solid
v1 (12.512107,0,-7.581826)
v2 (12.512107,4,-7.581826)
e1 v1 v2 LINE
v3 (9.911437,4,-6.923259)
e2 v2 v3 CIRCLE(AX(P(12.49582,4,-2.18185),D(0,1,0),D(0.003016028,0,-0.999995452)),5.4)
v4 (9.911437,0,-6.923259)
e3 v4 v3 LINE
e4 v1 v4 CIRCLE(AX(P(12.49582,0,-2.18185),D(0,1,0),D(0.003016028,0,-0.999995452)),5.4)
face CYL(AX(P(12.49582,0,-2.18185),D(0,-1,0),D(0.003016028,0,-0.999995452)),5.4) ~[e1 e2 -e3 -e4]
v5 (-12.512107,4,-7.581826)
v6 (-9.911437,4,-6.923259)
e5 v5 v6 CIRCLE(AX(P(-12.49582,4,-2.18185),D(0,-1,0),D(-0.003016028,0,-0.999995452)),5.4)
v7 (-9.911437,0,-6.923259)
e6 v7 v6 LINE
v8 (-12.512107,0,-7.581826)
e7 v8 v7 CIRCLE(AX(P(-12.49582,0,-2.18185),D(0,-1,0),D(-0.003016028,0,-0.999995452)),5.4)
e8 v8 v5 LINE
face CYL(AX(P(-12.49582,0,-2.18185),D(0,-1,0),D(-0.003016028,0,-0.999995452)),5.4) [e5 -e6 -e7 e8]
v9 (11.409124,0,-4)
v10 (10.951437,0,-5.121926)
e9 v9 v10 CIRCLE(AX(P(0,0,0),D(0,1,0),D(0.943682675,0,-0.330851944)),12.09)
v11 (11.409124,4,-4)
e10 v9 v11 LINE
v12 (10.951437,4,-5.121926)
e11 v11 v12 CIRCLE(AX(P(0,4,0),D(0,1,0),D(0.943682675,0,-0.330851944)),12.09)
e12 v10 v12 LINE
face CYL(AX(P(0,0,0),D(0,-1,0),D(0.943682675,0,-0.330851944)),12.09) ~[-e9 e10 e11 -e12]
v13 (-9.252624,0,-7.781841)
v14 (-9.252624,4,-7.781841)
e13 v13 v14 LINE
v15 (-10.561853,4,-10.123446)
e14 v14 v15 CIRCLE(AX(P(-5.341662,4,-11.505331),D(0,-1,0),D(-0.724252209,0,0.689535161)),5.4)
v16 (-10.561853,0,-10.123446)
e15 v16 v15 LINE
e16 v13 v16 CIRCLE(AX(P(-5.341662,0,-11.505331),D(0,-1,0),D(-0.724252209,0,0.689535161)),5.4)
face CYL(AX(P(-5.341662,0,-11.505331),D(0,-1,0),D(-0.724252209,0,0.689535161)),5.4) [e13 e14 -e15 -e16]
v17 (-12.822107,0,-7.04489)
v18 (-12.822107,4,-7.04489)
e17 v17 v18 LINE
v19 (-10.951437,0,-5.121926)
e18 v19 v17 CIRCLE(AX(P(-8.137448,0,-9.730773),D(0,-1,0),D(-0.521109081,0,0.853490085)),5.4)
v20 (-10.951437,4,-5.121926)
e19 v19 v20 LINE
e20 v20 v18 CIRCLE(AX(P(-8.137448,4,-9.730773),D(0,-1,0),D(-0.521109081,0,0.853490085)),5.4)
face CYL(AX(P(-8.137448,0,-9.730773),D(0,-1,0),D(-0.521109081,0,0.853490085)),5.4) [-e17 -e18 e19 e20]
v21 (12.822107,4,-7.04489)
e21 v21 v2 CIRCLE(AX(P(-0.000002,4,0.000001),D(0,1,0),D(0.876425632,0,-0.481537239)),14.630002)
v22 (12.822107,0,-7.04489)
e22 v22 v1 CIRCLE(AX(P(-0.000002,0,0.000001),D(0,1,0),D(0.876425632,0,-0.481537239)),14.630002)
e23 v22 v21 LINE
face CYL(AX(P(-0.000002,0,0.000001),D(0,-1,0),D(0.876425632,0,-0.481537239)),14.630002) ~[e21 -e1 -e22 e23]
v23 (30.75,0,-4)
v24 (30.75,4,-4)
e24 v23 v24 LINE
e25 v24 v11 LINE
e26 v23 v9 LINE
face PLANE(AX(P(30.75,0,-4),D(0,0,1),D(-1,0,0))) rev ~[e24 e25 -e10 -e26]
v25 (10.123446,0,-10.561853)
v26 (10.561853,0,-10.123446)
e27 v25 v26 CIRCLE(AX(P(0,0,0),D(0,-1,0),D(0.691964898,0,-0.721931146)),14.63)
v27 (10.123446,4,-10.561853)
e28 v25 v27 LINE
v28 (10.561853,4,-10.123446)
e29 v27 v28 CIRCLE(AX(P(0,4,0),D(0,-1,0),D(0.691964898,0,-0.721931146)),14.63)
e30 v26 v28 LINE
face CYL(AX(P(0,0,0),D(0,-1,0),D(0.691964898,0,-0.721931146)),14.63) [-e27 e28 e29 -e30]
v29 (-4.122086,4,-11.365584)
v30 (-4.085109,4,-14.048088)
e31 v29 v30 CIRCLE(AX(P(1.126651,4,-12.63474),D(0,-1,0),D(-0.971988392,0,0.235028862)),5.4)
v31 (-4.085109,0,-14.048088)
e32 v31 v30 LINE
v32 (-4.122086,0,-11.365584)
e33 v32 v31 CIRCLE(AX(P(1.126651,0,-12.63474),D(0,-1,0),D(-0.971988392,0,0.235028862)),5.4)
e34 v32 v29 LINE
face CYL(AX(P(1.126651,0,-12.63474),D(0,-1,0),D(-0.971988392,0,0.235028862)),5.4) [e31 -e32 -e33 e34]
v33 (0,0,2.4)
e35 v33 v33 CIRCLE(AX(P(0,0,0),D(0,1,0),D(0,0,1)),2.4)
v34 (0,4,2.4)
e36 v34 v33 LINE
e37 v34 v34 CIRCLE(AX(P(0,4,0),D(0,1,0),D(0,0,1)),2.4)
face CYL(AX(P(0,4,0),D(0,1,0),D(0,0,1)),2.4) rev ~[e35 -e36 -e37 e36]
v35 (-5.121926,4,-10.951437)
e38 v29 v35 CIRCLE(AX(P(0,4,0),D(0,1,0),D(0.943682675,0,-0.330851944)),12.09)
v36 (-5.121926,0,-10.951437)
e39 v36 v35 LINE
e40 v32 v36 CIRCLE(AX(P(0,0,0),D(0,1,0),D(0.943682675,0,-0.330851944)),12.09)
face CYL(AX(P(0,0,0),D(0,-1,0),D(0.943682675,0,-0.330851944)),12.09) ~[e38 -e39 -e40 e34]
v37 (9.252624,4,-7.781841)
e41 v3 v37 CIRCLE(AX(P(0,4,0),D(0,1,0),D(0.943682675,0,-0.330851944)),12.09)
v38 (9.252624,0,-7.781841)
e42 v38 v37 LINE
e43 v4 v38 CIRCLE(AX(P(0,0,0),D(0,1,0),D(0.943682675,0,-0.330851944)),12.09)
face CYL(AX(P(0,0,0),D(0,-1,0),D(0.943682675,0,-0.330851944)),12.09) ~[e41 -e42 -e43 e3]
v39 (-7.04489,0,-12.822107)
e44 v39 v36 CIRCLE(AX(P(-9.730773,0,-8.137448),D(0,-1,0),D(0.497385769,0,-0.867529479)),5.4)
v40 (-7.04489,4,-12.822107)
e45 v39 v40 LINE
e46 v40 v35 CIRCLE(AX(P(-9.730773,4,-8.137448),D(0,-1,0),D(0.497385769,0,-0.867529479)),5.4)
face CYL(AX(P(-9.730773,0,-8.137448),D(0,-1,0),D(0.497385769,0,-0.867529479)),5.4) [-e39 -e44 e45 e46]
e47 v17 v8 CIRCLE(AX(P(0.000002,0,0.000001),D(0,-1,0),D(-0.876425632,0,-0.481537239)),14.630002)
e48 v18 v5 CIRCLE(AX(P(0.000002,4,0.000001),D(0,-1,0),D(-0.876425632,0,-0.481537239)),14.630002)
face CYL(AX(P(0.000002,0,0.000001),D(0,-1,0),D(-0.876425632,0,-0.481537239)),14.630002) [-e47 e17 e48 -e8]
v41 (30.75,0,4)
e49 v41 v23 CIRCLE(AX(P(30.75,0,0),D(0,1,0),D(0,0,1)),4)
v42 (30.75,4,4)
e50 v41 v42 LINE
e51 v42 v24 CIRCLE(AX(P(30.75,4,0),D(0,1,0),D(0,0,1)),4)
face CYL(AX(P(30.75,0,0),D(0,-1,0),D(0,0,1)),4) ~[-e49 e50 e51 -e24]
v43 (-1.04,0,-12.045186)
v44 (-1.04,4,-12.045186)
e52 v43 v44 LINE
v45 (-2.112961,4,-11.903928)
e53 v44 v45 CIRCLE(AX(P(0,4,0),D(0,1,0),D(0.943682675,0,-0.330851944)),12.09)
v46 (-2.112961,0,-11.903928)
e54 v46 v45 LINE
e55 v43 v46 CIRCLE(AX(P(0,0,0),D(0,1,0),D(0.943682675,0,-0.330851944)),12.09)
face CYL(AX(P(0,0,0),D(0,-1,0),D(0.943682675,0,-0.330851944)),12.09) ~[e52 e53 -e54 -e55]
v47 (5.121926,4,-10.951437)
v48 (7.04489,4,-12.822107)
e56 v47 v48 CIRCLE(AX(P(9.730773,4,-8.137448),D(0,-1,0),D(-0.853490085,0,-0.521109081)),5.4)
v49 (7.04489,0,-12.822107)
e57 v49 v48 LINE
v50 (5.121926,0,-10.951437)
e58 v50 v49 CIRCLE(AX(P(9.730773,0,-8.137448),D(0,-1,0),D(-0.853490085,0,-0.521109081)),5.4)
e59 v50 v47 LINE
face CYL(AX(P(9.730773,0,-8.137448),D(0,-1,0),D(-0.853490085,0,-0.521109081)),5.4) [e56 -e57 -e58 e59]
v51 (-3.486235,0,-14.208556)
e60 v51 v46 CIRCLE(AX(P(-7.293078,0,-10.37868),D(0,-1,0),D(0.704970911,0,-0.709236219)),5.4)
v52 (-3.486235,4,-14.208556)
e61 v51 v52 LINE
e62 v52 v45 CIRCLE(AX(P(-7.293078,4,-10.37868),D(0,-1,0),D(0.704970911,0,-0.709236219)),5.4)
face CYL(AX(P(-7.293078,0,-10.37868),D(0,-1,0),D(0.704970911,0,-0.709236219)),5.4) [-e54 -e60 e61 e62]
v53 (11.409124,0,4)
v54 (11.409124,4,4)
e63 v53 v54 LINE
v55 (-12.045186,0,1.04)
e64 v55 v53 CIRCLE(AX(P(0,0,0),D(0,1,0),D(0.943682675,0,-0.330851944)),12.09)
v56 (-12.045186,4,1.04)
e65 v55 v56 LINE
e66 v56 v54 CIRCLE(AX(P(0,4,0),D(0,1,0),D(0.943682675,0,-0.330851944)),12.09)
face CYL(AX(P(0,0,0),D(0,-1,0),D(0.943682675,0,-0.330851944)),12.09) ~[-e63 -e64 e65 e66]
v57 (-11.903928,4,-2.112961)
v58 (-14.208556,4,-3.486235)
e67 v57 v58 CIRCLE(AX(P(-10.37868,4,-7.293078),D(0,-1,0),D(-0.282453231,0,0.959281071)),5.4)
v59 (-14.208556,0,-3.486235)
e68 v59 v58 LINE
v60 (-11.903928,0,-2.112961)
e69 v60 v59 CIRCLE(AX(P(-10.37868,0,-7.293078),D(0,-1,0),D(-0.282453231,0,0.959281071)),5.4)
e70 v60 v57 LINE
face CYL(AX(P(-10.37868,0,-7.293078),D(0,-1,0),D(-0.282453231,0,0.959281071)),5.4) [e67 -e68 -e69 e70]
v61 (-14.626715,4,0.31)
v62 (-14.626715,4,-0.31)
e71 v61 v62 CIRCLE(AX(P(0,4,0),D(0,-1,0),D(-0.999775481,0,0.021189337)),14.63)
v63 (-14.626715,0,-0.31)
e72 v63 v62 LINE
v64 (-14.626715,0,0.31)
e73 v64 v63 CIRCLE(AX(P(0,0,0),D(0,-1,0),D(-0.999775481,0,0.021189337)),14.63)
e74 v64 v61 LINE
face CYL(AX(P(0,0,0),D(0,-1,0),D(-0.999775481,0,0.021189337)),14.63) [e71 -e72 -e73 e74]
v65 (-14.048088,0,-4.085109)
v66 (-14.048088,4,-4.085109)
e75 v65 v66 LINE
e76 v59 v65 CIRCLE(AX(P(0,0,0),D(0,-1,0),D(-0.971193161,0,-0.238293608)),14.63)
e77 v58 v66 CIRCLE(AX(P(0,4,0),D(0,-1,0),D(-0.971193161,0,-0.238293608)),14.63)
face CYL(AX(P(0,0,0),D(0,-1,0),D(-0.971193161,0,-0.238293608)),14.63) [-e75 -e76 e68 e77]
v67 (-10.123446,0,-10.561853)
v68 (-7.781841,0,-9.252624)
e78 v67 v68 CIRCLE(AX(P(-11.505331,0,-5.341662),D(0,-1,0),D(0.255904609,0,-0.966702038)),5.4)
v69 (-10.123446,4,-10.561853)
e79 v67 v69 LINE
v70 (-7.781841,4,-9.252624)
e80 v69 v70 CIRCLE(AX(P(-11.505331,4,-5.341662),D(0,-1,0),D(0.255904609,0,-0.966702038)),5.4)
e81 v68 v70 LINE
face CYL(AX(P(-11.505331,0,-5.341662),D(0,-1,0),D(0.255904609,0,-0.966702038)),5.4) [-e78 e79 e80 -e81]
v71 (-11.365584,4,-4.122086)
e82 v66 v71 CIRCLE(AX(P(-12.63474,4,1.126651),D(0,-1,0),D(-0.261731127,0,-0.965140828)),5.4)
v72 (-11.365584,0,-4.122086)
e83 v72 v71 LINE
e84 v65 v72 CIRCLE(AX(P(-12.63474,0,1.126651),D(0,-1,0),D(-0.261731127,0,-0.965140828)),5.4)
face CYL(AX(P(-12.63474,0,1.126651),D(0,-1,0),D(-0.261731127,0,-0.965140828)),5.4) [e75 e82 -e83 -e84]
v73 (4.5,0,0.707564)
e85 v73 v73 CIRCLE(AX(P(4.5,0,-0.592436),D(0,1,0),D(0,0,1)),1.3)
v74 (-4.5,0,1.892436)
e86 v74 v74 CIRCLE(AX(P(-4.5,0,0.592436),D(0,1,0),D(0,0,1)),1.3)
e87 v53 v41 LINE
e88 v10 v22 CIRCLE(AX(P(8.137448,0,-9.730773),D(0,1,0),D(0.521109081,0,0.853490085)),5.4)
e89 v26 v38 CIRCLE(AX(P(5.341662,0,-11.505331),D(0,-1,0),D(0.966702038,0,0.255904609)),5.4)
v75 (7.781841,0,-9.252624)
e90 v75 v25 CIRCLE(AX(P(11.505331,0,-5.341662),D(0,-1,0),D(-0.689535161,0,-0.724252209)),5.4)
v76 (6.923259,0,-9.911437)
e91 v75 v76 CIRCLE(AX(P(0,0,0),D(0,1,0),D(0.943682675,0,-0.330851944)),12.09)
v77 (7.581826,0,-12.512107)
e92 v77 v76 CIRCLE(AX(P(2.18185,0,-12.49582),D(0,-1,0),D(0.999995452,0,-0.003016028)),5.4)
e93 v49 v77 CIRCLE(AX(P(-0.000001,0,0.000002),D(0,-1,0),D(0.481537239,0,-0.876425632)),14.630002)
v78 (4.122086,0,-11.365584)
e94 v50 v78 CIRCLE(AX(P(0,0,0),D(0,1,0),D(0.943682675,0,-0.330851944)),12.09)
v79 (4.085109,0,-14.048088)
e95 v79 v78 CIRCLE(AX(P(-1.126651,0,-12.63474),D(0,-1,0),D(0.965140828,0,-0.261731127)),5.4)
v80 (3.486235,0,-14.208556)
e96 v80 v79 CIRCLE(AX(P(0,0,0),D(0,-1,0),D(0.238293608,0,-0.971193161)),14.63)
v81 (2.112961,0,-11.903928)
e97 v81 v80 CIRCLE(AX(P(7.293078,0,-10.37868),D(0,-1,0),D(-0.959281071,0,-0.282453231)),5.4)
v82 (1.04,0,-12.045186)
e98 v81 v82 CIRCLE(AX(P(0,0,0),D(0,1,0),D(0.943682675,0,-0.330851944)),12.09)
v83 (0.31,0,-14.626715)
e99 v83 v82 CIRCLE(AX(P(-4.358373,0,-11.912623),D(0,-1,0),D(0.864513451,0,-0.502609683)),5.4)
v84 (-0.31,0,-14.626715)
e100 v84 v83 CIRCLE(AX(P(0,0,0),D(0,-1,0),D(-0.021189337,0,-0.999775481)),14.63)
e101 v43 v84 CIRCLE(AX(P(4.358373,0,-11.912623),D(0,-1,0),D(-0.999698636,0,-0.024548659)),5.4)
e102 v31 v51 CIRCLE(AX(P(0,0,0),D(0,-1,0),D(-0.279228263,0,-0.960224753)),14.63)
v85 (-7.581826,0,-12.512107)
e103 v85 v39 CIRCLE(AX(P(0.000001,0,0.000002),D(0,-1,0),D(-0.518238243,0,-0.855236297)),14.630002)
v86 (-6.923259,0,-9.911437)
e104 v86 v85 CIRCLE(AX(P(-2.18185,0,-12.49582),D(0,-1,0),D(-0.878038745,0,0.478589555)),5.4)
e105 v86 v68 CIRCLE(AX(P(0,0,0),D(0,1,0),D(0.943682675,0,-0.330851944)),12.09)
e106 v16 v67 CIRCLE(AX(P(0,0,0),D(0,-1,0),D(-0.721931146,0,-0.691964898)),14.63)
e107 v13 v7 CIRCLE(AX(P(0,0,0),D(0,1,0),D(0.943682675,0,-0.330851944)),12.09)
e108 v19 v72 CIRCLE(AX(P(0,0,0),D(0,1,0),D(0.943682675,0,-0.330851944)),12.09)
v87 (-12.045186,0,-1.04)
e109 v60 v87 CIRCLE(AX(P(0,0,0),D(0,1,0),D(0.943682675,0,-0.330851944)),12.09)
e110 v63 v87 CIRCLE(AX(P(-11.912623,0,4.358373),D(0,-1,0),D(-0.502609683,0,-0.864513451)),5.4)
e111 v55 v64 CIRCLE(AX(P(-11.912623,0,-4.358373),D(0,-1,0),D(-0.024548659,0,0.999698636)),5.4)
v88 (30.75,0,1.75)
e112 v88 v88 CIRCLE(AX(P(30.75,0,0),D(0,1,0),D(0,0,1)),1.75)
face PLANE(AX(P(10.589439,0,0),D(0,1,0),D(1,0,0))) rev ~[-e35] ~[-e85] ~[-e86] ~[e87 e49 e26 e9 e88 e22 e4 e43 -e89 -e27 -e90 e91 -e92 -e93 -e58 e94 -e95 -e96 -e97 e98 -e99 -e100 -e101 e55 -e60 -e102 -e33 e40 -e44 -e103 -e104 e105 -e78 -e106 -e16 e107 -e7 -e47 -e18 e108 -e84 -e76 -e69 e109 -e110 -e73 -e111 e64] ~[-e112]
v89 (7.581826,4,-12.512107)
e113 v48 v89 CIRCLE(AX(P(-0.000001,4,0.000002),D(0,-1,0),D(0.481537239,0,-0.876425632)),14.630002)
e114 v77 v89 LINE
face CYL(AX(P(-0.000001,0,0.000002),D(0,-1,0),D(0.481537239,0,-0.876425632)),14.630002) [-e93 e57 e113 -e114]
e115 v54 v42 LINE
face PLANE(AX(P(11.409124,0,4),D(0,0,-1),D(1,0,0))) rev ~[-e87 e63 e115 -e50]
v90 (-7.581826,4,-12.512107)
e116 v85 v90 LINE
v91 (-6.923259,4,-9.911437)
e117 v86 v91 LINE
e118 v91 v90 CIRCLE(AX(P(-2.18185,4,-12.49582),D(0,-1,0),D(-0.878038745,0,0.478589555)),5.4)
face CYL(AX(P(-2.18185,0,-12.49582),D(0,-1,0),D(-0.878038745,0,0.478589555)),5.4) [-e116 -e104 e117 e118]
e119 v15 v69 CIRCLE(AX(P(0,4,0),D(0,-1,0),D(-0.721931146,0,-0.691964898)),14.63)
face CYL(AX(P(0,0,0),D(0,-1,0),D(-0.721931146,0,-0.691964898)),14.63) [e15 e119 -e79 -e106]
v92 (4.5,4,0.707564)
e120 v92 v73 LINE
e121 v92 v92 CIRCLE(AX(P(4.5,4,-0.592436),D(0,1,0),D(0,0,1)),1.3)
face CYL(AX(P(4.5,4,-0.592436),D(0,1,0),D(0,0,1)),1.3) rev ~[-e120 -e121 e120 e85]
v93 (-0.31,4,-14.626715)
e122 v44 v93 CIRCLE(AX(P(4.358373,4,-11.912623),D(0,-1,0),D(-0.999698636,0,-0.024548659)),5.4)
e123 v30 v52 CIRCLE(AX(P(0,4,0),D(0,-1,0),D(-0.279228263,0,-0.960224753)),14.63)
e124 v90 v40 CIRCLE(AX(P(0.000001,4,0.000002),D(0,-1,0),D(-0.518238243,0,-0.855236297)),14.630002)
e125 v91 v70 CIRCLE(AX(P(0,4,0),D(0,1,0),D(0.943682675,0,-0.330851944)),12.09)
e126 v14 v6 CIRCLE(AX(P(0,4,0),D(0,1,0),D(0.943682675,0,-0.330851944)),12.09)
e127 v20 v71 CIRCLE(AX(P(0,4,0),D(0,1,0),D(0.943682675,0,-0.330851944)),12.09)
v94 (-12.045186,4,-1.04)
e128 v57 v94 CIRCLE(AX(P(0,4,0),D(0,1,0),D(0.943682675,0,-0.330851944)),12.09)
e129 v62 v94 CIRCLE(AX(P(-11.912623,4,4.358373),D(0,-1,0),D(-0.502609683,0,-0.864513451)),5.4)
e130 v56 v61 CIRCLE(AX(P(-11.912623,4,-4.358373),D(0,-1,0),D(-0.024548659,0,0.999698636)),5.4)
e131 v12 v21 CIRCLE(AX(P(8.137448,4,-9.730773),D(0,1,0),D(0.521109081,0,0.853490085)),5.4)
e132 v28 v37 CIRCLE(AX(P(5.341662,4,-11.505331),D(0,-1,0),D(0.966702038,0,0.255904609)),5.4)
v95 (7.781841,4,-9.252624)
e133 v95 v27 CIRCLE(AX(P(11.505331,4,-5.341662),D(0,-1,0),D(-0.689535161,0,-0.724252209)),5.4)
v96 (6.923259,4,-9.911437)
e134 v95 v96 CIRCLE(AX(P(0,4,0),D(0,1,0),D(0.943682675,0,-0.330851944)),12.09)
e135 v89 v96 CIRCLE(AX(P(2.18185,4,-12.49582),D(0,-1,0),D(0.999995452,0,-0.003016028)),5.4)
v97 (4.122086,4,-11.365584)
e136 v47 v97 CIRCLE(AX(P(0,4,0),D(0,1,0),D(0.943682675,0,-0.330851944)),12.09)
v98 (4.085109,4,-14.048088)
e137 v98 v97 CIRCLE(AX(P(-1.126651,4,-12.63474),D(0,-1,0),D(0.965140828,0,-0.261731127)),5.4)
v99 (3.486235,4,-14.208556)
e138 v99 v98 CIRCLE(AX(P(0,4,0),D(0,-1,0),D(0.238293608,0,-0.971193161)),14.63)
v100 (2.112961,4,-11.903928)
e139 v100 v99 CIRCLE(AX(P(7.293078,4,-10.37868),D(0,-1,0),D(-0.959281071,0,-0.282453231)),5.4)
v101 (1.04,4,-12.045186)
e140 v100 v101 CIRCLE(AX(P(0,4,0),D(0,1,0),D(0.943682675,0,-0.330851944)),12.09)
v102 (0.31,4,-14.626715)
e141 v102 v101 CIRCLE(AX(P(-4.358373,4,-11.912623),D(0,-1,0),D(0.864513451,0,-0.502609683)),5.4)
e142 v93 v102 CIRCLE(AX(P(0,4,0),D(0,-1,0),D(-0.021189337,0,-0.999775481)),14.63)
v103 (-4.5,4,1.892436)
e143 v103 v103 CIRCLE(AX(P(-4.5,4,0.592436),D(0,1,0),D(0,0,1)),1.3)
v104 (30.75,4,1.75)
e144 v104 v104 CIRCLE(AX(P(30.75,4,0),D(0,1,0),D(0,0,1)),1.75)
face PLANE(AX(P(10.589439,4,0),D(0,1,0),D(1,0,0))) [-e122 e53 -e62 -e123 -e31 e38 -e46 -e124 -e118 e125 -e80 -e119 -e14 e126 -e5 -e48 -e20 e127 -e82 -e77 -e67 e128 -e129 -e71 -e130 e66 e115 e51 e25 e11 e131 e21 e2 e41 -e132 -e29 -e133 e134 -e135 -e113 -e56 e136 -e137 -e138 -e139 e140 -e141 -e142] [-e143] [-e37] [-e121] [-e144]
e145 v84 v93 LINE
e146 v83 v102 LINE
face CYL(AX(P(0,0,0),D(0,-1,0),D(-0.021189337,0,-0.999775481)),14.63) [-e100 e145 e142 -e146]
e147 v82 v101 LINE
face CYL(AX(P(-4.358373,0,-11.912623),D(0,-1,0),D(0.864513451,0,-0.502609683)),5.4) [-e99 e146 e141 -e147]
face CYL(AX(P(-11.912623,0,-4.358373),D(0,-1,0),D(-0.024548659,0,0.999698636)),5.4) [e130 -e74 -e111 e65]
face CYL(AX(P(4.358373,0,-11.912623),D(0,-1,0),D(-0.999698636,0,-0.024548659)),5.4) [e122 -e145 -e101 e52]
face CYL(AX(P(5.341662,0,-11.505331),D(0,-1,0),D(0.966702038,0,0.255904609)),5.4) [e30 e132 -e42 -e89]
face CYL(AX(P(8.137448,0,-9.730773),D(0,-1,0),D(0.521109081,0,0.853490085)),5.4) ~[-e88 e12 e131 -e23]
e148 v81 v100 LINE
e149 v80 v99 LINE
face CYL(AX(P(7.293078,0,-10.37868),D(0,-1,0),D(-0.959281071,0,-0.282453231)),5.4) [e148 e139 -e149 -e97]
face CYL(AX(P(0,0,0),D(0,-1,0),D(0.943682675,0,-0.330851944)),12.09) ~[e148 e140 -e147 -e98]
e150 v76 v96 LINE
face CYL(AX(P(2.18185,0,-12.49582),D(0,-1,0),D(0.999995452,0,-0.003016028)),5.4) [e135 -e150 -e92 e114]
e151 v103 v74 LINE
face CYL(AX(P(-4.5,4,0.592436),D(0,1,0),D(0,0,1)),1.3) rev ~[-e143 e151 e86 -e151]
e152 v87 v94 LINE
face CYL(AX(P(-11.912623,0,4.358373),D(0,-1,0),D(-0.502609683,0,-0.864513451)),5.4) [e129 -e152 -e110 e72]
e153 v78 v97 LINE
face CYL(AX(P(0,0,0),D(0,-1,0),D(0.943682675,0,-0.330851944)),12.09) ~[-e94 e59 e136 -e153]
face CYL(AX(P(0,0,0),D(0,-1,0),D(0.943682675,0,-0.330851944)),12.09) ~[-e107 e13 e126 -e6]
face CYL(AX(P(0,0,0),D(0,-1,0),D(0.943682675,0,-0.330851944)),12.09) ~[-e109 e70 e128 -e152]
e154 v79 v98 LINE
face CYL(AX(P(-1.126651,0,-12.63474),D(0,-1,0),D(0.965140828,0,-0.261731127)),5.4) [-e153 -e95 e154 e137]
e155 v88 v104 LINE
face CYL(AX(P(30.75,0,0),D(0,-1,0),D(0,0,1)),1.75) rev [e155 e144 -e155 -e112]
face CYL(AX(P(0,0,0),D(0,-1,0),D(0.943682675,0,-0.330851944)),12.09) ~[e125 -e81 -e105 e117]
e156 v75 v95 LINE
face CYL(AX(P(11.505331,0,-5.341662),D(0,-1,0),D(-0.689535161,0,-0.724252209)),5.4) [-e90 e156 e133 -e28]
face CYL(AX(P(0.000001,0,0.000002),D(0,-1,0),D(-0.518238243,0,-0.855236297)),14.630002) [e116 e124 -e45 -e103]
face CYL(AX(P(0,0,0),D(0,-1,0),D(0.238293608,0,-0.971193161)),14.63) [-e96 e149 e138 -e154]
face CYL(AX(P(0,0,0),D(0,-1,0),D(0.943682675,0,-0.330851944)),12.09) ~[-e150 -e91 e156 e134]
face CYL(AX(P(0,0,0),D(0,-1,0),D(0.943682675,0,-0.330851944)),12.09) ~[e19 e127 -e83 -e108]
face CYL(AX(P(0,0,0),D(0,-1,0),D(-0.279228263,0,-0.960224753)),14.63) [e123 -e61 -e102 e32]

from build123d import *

# Parameters (mm, degrees)
SKETCH1_R           = 1.75
BOSS_EXTRUDE1_DEPTH = 4
BOSS_EXTRUDE3_START = -4
BOSS_EXTRUDE3_DEPTH = 4
SKETCH4_R           = 1.3
SKETCH4_R_2         = 2.4
CUT_EXTRUDE1_DEPTH  = 4


with BuildPart() as part:
    # Sketch1 → Boss-Extrude1 (new body)
    with BuildSketch(Plane(origin=(0, 0, 0), x_dir=(1, 0, 0), z_dir=(0, 1, 0))):
        with BuildLine():
            Line((30.75, 4), (11.409123542, 4))
            ThreePointArc((11.409123542, 4), (-12.09, 0), (11.409123542, -4))
            Line((11.409123542, -4), (30.75, -4))
            ThreePointArc((30.75, -4), (34.75, 0), (30.75, 4))
        make_face()
        with Locations(Location((30.75, 0, 0), (0, 0, 270))):
            Circle(SKETCH1_R, mode=Mode.SUBTRACT)
        with Locations(Location((0, 0, 0), (0, 0, 270))):
            Circle(SKETCH1_R, mode=Mode.SUBTRACT)
    extrude(amount=BOSS_EXTRUDE1_DEPTH)

    # Sketch3 → Boss-Extrude3 (add)
    with BuildSketch(Plane(origin=(0, 4, 0), x_dir=(1, 0, 0), z_dir=(0, 1, 0)).offset(BOSS_EXTRUDE3_START)):
        with BuildLine():
            ThreePointArc((12.82210701, 7.044889767), (12.669951657, 7.315), (12.51210701, 7.581825517))
            ThreePointArc((12.51210701, 7.581825517), (11.170223244, 7.416617696), (9.911436862, 6.9232593))
            ThreePointArc((9.911436862, 6.9232593), (10.470247132, 6.045), (10.951436862, 5.12192646))
            ThreePointArc((10.951436862, 5.12192646), (12.008090957, 5.965388247), (12.82210701, 7.044889767))
        make_face()
        with BuildLine():
            ThreePointArc((-14.626715284, 0.31), (-13.382005944, 0.837867713), (-12.04518576, 1.04))
            ThreePointArc((-12.04518576, 1.04), (-12.09, 0), (-12.04518576, -1.04))
            ThreePointArc((-12.04518576, -1.04), (-13.382005944, -0.837867713), (-14.626715284, -0.31))
            ThreePointArc((-14.626715284, -0.31), (-14.63, 0), (-14.626715284, 0.31))
        make_face()
        with BuildLine():
            ThreePointArc((-14.048088143, 4.085109489), (-12.709169027, 4.272836063), (-11.365584201, 4.122086336))
            ThreePointArc((-11.365584201, 4.122086336), (-11.67804324, 3.129122255), (-11.903927815, 2.112960617))
            ThreePointArc((-11.903927815, 2.112960617), (-13.14288127, 2.654199937), (-14.208555951, 3.486235477))
            ThreePointArc((-14.208555951, 3.486235477), (-14.131494839, 3.78652263), (-14.048088143, 4.085109489))
        make_face()
        with BuildLine():
            ThreePointArc((-12.51210701, 7.581825517), (-11.170223244, 7.416617696), (-9.911436862, 6.9232593))
            ThreePointArc((-9.911436862, 6.9232593), (-10.470247132, 6.045), (-10.951436862, 5.12192646))
            ThreePointArc((-10.951436862, 5.12192646), (-12.008090957, 5.965388247), (-12.82210701, 7.044889767))
            ThreePointArc((-12.82210701, 7.044889767), (-12.669951657, 7.315), (-12.51210701, 7.581825517))
        make_face()
        with BuildLine():
            ThreePointArc((-10.123446462, 10.561852666), (-8.870045207, 10.05496909), (-7.781841479, 9.252623584))
            ThreePointArc((-7.781841479, 9.252623584), (-8.548920985, 8.548920985), (-9.252623584, 7.781841479))
            ThreePointArc((-9.252623584, 7.781841479), (-10.05496909, 8.870045207), (-10.561852666, 10.123446462))
            ThreePointArc((-10.561852666, 10.123446462), (-10.344972209, 10.344972209), (-10.123446462, 10.561852666))
        make_face()
        with BuildLine():
            ThreePointArc((-7.044889767, 12.82210701), (-5.965388247, 12.008090957), (-5.12192646, 10.951436862))
            ThreePointArc((-5.12192646, 10.951436862), (-6.045, 10.470247132), (-6.9232593, 9.911436862))
            ThreePointArc((-6.9232593, 9.911436862), (-7.416617696, 11.170223244), (-7.581825517, 12.51210701))
            ThreePointArc((-7.581825517, 12.51210701), (-7.315, 12.669951657), (-7.044889767, 12.82210701))
        make_face()
        with BuildLine():
            ThreePointArc((-3.486235477, 14.208555951), (-2.654199937, 13.14288127), (-2.112960617, 11.903927815))
            ThreePointArc((-2.112960617, 11.903927815), (-3.129122255, 11.67804324), (-4.122086336, 11.365584201))
            ThreePointArc((-4.122086336, 11.365584201), (-4.272836063, 12.709169027), (-4.085109489, 14.048088143))
            ThreePointArc((-4.085109489, 14.048088143), (-3.78652263, 14.131494839), (-3.486235477, 14.208555951))
        make_face()
        with BuildLine():
            ThreePointArc((0.31, 14.626715284), (0.837867713, 13.382005944), (1.04, 12.04518576))
            ThreePointArc((1.04, 12.04518576), (0, 12.09), (-1.04, 12.04518576))
            ThreePointArc((-1.04, 12.04518576), (-0.837867713, 13.382005944), (-0.31, 14.626715284))
            ThreePointArc((-0.31, 14.626715284), (0, 14.63), (0.31, 14.626715284))
        make_face()
        with BuildLine():
            ThreePointArc((4.085109489, 14.048088143), (4.272836063, 12.709169027), (4.122086336, 11.365584201))
            ThreePointArc((4.122086336, 11.365584201), (3.129122255, 11.67804324), (2.112960617, 11.903927815))
            ThreePointArc((2.112960617, 11.903927815), (2.654199937, 13.14288127), (3.486235477, 14.208555951))
            ThreePointArc((3.486235477, 14.208555951), (3.78652263, 14.131494839), (4.085109489, 14.048088143))
        make_face()
        with BuildLine():
            ThreePointArc((7.581825517, 12.51210701), (7.416617696, 11.170223244), (6.9232593, 9.911436862))
            ThreePointArc((6.9232593, 9.911436862), (6.045, 10.470247132), (5.12192646, 10.951436862))
            ThreePointArc((5.12192646, 10.951436862), (5.965388247, 12.008090957), (7.044889767, 12.82210701))
            ThreePointArc((7.044889767, 12.82210701), (7.315, 12.669951657), (7.581825517, 12.51210701))
        make_face()
        with BuildLine():
            ThreePointArc((10.561852666, 10.123446462), (10.05496909, 8.870045207), (9.252623584, 7.781841479))
            ThreePointArc((9.252623584, 7.781841479), (8.548920985, 8.548920985), (7.781841479, 9.252623584))
            ThreePointArc((7.781841479, 9.252623584), (8.870045207, 10.05496909), (10.123446462, 10.561852666))
            ThreePointArc((10.123446462, 10.561852666), (10.344972209, 10.344972209), (10.561852666, 10.123446462))
        make_face()
    extrude(amount=BOSS_EXTRUDE3_DEPTH)

    # Sketch4 → Cut-Extrude1 (cut)
    with BuildSketch(Plane(origin=(0, 4, 0), x_dir=(1, 0, 0), z_dir=(0, 1, 0))):
        with Locations(Location((4.5, 0.592436239, 0), (0, 0, 270))):
            Circle(SKETCH4_R)
        with Locations(Location((-4.5, -0.592436239, 0), (0, 0, 270))):
            Circle(SKETCH4_R)
        with Locations(Location((0, 0, 0), (0, 0, 270))):
            Circle(SKETCH4_R_2)
    extrude(amount=-CUT_EXTRUDE1_DEPTH, mode=Mode.SUBTRACT)


solid = part.part
